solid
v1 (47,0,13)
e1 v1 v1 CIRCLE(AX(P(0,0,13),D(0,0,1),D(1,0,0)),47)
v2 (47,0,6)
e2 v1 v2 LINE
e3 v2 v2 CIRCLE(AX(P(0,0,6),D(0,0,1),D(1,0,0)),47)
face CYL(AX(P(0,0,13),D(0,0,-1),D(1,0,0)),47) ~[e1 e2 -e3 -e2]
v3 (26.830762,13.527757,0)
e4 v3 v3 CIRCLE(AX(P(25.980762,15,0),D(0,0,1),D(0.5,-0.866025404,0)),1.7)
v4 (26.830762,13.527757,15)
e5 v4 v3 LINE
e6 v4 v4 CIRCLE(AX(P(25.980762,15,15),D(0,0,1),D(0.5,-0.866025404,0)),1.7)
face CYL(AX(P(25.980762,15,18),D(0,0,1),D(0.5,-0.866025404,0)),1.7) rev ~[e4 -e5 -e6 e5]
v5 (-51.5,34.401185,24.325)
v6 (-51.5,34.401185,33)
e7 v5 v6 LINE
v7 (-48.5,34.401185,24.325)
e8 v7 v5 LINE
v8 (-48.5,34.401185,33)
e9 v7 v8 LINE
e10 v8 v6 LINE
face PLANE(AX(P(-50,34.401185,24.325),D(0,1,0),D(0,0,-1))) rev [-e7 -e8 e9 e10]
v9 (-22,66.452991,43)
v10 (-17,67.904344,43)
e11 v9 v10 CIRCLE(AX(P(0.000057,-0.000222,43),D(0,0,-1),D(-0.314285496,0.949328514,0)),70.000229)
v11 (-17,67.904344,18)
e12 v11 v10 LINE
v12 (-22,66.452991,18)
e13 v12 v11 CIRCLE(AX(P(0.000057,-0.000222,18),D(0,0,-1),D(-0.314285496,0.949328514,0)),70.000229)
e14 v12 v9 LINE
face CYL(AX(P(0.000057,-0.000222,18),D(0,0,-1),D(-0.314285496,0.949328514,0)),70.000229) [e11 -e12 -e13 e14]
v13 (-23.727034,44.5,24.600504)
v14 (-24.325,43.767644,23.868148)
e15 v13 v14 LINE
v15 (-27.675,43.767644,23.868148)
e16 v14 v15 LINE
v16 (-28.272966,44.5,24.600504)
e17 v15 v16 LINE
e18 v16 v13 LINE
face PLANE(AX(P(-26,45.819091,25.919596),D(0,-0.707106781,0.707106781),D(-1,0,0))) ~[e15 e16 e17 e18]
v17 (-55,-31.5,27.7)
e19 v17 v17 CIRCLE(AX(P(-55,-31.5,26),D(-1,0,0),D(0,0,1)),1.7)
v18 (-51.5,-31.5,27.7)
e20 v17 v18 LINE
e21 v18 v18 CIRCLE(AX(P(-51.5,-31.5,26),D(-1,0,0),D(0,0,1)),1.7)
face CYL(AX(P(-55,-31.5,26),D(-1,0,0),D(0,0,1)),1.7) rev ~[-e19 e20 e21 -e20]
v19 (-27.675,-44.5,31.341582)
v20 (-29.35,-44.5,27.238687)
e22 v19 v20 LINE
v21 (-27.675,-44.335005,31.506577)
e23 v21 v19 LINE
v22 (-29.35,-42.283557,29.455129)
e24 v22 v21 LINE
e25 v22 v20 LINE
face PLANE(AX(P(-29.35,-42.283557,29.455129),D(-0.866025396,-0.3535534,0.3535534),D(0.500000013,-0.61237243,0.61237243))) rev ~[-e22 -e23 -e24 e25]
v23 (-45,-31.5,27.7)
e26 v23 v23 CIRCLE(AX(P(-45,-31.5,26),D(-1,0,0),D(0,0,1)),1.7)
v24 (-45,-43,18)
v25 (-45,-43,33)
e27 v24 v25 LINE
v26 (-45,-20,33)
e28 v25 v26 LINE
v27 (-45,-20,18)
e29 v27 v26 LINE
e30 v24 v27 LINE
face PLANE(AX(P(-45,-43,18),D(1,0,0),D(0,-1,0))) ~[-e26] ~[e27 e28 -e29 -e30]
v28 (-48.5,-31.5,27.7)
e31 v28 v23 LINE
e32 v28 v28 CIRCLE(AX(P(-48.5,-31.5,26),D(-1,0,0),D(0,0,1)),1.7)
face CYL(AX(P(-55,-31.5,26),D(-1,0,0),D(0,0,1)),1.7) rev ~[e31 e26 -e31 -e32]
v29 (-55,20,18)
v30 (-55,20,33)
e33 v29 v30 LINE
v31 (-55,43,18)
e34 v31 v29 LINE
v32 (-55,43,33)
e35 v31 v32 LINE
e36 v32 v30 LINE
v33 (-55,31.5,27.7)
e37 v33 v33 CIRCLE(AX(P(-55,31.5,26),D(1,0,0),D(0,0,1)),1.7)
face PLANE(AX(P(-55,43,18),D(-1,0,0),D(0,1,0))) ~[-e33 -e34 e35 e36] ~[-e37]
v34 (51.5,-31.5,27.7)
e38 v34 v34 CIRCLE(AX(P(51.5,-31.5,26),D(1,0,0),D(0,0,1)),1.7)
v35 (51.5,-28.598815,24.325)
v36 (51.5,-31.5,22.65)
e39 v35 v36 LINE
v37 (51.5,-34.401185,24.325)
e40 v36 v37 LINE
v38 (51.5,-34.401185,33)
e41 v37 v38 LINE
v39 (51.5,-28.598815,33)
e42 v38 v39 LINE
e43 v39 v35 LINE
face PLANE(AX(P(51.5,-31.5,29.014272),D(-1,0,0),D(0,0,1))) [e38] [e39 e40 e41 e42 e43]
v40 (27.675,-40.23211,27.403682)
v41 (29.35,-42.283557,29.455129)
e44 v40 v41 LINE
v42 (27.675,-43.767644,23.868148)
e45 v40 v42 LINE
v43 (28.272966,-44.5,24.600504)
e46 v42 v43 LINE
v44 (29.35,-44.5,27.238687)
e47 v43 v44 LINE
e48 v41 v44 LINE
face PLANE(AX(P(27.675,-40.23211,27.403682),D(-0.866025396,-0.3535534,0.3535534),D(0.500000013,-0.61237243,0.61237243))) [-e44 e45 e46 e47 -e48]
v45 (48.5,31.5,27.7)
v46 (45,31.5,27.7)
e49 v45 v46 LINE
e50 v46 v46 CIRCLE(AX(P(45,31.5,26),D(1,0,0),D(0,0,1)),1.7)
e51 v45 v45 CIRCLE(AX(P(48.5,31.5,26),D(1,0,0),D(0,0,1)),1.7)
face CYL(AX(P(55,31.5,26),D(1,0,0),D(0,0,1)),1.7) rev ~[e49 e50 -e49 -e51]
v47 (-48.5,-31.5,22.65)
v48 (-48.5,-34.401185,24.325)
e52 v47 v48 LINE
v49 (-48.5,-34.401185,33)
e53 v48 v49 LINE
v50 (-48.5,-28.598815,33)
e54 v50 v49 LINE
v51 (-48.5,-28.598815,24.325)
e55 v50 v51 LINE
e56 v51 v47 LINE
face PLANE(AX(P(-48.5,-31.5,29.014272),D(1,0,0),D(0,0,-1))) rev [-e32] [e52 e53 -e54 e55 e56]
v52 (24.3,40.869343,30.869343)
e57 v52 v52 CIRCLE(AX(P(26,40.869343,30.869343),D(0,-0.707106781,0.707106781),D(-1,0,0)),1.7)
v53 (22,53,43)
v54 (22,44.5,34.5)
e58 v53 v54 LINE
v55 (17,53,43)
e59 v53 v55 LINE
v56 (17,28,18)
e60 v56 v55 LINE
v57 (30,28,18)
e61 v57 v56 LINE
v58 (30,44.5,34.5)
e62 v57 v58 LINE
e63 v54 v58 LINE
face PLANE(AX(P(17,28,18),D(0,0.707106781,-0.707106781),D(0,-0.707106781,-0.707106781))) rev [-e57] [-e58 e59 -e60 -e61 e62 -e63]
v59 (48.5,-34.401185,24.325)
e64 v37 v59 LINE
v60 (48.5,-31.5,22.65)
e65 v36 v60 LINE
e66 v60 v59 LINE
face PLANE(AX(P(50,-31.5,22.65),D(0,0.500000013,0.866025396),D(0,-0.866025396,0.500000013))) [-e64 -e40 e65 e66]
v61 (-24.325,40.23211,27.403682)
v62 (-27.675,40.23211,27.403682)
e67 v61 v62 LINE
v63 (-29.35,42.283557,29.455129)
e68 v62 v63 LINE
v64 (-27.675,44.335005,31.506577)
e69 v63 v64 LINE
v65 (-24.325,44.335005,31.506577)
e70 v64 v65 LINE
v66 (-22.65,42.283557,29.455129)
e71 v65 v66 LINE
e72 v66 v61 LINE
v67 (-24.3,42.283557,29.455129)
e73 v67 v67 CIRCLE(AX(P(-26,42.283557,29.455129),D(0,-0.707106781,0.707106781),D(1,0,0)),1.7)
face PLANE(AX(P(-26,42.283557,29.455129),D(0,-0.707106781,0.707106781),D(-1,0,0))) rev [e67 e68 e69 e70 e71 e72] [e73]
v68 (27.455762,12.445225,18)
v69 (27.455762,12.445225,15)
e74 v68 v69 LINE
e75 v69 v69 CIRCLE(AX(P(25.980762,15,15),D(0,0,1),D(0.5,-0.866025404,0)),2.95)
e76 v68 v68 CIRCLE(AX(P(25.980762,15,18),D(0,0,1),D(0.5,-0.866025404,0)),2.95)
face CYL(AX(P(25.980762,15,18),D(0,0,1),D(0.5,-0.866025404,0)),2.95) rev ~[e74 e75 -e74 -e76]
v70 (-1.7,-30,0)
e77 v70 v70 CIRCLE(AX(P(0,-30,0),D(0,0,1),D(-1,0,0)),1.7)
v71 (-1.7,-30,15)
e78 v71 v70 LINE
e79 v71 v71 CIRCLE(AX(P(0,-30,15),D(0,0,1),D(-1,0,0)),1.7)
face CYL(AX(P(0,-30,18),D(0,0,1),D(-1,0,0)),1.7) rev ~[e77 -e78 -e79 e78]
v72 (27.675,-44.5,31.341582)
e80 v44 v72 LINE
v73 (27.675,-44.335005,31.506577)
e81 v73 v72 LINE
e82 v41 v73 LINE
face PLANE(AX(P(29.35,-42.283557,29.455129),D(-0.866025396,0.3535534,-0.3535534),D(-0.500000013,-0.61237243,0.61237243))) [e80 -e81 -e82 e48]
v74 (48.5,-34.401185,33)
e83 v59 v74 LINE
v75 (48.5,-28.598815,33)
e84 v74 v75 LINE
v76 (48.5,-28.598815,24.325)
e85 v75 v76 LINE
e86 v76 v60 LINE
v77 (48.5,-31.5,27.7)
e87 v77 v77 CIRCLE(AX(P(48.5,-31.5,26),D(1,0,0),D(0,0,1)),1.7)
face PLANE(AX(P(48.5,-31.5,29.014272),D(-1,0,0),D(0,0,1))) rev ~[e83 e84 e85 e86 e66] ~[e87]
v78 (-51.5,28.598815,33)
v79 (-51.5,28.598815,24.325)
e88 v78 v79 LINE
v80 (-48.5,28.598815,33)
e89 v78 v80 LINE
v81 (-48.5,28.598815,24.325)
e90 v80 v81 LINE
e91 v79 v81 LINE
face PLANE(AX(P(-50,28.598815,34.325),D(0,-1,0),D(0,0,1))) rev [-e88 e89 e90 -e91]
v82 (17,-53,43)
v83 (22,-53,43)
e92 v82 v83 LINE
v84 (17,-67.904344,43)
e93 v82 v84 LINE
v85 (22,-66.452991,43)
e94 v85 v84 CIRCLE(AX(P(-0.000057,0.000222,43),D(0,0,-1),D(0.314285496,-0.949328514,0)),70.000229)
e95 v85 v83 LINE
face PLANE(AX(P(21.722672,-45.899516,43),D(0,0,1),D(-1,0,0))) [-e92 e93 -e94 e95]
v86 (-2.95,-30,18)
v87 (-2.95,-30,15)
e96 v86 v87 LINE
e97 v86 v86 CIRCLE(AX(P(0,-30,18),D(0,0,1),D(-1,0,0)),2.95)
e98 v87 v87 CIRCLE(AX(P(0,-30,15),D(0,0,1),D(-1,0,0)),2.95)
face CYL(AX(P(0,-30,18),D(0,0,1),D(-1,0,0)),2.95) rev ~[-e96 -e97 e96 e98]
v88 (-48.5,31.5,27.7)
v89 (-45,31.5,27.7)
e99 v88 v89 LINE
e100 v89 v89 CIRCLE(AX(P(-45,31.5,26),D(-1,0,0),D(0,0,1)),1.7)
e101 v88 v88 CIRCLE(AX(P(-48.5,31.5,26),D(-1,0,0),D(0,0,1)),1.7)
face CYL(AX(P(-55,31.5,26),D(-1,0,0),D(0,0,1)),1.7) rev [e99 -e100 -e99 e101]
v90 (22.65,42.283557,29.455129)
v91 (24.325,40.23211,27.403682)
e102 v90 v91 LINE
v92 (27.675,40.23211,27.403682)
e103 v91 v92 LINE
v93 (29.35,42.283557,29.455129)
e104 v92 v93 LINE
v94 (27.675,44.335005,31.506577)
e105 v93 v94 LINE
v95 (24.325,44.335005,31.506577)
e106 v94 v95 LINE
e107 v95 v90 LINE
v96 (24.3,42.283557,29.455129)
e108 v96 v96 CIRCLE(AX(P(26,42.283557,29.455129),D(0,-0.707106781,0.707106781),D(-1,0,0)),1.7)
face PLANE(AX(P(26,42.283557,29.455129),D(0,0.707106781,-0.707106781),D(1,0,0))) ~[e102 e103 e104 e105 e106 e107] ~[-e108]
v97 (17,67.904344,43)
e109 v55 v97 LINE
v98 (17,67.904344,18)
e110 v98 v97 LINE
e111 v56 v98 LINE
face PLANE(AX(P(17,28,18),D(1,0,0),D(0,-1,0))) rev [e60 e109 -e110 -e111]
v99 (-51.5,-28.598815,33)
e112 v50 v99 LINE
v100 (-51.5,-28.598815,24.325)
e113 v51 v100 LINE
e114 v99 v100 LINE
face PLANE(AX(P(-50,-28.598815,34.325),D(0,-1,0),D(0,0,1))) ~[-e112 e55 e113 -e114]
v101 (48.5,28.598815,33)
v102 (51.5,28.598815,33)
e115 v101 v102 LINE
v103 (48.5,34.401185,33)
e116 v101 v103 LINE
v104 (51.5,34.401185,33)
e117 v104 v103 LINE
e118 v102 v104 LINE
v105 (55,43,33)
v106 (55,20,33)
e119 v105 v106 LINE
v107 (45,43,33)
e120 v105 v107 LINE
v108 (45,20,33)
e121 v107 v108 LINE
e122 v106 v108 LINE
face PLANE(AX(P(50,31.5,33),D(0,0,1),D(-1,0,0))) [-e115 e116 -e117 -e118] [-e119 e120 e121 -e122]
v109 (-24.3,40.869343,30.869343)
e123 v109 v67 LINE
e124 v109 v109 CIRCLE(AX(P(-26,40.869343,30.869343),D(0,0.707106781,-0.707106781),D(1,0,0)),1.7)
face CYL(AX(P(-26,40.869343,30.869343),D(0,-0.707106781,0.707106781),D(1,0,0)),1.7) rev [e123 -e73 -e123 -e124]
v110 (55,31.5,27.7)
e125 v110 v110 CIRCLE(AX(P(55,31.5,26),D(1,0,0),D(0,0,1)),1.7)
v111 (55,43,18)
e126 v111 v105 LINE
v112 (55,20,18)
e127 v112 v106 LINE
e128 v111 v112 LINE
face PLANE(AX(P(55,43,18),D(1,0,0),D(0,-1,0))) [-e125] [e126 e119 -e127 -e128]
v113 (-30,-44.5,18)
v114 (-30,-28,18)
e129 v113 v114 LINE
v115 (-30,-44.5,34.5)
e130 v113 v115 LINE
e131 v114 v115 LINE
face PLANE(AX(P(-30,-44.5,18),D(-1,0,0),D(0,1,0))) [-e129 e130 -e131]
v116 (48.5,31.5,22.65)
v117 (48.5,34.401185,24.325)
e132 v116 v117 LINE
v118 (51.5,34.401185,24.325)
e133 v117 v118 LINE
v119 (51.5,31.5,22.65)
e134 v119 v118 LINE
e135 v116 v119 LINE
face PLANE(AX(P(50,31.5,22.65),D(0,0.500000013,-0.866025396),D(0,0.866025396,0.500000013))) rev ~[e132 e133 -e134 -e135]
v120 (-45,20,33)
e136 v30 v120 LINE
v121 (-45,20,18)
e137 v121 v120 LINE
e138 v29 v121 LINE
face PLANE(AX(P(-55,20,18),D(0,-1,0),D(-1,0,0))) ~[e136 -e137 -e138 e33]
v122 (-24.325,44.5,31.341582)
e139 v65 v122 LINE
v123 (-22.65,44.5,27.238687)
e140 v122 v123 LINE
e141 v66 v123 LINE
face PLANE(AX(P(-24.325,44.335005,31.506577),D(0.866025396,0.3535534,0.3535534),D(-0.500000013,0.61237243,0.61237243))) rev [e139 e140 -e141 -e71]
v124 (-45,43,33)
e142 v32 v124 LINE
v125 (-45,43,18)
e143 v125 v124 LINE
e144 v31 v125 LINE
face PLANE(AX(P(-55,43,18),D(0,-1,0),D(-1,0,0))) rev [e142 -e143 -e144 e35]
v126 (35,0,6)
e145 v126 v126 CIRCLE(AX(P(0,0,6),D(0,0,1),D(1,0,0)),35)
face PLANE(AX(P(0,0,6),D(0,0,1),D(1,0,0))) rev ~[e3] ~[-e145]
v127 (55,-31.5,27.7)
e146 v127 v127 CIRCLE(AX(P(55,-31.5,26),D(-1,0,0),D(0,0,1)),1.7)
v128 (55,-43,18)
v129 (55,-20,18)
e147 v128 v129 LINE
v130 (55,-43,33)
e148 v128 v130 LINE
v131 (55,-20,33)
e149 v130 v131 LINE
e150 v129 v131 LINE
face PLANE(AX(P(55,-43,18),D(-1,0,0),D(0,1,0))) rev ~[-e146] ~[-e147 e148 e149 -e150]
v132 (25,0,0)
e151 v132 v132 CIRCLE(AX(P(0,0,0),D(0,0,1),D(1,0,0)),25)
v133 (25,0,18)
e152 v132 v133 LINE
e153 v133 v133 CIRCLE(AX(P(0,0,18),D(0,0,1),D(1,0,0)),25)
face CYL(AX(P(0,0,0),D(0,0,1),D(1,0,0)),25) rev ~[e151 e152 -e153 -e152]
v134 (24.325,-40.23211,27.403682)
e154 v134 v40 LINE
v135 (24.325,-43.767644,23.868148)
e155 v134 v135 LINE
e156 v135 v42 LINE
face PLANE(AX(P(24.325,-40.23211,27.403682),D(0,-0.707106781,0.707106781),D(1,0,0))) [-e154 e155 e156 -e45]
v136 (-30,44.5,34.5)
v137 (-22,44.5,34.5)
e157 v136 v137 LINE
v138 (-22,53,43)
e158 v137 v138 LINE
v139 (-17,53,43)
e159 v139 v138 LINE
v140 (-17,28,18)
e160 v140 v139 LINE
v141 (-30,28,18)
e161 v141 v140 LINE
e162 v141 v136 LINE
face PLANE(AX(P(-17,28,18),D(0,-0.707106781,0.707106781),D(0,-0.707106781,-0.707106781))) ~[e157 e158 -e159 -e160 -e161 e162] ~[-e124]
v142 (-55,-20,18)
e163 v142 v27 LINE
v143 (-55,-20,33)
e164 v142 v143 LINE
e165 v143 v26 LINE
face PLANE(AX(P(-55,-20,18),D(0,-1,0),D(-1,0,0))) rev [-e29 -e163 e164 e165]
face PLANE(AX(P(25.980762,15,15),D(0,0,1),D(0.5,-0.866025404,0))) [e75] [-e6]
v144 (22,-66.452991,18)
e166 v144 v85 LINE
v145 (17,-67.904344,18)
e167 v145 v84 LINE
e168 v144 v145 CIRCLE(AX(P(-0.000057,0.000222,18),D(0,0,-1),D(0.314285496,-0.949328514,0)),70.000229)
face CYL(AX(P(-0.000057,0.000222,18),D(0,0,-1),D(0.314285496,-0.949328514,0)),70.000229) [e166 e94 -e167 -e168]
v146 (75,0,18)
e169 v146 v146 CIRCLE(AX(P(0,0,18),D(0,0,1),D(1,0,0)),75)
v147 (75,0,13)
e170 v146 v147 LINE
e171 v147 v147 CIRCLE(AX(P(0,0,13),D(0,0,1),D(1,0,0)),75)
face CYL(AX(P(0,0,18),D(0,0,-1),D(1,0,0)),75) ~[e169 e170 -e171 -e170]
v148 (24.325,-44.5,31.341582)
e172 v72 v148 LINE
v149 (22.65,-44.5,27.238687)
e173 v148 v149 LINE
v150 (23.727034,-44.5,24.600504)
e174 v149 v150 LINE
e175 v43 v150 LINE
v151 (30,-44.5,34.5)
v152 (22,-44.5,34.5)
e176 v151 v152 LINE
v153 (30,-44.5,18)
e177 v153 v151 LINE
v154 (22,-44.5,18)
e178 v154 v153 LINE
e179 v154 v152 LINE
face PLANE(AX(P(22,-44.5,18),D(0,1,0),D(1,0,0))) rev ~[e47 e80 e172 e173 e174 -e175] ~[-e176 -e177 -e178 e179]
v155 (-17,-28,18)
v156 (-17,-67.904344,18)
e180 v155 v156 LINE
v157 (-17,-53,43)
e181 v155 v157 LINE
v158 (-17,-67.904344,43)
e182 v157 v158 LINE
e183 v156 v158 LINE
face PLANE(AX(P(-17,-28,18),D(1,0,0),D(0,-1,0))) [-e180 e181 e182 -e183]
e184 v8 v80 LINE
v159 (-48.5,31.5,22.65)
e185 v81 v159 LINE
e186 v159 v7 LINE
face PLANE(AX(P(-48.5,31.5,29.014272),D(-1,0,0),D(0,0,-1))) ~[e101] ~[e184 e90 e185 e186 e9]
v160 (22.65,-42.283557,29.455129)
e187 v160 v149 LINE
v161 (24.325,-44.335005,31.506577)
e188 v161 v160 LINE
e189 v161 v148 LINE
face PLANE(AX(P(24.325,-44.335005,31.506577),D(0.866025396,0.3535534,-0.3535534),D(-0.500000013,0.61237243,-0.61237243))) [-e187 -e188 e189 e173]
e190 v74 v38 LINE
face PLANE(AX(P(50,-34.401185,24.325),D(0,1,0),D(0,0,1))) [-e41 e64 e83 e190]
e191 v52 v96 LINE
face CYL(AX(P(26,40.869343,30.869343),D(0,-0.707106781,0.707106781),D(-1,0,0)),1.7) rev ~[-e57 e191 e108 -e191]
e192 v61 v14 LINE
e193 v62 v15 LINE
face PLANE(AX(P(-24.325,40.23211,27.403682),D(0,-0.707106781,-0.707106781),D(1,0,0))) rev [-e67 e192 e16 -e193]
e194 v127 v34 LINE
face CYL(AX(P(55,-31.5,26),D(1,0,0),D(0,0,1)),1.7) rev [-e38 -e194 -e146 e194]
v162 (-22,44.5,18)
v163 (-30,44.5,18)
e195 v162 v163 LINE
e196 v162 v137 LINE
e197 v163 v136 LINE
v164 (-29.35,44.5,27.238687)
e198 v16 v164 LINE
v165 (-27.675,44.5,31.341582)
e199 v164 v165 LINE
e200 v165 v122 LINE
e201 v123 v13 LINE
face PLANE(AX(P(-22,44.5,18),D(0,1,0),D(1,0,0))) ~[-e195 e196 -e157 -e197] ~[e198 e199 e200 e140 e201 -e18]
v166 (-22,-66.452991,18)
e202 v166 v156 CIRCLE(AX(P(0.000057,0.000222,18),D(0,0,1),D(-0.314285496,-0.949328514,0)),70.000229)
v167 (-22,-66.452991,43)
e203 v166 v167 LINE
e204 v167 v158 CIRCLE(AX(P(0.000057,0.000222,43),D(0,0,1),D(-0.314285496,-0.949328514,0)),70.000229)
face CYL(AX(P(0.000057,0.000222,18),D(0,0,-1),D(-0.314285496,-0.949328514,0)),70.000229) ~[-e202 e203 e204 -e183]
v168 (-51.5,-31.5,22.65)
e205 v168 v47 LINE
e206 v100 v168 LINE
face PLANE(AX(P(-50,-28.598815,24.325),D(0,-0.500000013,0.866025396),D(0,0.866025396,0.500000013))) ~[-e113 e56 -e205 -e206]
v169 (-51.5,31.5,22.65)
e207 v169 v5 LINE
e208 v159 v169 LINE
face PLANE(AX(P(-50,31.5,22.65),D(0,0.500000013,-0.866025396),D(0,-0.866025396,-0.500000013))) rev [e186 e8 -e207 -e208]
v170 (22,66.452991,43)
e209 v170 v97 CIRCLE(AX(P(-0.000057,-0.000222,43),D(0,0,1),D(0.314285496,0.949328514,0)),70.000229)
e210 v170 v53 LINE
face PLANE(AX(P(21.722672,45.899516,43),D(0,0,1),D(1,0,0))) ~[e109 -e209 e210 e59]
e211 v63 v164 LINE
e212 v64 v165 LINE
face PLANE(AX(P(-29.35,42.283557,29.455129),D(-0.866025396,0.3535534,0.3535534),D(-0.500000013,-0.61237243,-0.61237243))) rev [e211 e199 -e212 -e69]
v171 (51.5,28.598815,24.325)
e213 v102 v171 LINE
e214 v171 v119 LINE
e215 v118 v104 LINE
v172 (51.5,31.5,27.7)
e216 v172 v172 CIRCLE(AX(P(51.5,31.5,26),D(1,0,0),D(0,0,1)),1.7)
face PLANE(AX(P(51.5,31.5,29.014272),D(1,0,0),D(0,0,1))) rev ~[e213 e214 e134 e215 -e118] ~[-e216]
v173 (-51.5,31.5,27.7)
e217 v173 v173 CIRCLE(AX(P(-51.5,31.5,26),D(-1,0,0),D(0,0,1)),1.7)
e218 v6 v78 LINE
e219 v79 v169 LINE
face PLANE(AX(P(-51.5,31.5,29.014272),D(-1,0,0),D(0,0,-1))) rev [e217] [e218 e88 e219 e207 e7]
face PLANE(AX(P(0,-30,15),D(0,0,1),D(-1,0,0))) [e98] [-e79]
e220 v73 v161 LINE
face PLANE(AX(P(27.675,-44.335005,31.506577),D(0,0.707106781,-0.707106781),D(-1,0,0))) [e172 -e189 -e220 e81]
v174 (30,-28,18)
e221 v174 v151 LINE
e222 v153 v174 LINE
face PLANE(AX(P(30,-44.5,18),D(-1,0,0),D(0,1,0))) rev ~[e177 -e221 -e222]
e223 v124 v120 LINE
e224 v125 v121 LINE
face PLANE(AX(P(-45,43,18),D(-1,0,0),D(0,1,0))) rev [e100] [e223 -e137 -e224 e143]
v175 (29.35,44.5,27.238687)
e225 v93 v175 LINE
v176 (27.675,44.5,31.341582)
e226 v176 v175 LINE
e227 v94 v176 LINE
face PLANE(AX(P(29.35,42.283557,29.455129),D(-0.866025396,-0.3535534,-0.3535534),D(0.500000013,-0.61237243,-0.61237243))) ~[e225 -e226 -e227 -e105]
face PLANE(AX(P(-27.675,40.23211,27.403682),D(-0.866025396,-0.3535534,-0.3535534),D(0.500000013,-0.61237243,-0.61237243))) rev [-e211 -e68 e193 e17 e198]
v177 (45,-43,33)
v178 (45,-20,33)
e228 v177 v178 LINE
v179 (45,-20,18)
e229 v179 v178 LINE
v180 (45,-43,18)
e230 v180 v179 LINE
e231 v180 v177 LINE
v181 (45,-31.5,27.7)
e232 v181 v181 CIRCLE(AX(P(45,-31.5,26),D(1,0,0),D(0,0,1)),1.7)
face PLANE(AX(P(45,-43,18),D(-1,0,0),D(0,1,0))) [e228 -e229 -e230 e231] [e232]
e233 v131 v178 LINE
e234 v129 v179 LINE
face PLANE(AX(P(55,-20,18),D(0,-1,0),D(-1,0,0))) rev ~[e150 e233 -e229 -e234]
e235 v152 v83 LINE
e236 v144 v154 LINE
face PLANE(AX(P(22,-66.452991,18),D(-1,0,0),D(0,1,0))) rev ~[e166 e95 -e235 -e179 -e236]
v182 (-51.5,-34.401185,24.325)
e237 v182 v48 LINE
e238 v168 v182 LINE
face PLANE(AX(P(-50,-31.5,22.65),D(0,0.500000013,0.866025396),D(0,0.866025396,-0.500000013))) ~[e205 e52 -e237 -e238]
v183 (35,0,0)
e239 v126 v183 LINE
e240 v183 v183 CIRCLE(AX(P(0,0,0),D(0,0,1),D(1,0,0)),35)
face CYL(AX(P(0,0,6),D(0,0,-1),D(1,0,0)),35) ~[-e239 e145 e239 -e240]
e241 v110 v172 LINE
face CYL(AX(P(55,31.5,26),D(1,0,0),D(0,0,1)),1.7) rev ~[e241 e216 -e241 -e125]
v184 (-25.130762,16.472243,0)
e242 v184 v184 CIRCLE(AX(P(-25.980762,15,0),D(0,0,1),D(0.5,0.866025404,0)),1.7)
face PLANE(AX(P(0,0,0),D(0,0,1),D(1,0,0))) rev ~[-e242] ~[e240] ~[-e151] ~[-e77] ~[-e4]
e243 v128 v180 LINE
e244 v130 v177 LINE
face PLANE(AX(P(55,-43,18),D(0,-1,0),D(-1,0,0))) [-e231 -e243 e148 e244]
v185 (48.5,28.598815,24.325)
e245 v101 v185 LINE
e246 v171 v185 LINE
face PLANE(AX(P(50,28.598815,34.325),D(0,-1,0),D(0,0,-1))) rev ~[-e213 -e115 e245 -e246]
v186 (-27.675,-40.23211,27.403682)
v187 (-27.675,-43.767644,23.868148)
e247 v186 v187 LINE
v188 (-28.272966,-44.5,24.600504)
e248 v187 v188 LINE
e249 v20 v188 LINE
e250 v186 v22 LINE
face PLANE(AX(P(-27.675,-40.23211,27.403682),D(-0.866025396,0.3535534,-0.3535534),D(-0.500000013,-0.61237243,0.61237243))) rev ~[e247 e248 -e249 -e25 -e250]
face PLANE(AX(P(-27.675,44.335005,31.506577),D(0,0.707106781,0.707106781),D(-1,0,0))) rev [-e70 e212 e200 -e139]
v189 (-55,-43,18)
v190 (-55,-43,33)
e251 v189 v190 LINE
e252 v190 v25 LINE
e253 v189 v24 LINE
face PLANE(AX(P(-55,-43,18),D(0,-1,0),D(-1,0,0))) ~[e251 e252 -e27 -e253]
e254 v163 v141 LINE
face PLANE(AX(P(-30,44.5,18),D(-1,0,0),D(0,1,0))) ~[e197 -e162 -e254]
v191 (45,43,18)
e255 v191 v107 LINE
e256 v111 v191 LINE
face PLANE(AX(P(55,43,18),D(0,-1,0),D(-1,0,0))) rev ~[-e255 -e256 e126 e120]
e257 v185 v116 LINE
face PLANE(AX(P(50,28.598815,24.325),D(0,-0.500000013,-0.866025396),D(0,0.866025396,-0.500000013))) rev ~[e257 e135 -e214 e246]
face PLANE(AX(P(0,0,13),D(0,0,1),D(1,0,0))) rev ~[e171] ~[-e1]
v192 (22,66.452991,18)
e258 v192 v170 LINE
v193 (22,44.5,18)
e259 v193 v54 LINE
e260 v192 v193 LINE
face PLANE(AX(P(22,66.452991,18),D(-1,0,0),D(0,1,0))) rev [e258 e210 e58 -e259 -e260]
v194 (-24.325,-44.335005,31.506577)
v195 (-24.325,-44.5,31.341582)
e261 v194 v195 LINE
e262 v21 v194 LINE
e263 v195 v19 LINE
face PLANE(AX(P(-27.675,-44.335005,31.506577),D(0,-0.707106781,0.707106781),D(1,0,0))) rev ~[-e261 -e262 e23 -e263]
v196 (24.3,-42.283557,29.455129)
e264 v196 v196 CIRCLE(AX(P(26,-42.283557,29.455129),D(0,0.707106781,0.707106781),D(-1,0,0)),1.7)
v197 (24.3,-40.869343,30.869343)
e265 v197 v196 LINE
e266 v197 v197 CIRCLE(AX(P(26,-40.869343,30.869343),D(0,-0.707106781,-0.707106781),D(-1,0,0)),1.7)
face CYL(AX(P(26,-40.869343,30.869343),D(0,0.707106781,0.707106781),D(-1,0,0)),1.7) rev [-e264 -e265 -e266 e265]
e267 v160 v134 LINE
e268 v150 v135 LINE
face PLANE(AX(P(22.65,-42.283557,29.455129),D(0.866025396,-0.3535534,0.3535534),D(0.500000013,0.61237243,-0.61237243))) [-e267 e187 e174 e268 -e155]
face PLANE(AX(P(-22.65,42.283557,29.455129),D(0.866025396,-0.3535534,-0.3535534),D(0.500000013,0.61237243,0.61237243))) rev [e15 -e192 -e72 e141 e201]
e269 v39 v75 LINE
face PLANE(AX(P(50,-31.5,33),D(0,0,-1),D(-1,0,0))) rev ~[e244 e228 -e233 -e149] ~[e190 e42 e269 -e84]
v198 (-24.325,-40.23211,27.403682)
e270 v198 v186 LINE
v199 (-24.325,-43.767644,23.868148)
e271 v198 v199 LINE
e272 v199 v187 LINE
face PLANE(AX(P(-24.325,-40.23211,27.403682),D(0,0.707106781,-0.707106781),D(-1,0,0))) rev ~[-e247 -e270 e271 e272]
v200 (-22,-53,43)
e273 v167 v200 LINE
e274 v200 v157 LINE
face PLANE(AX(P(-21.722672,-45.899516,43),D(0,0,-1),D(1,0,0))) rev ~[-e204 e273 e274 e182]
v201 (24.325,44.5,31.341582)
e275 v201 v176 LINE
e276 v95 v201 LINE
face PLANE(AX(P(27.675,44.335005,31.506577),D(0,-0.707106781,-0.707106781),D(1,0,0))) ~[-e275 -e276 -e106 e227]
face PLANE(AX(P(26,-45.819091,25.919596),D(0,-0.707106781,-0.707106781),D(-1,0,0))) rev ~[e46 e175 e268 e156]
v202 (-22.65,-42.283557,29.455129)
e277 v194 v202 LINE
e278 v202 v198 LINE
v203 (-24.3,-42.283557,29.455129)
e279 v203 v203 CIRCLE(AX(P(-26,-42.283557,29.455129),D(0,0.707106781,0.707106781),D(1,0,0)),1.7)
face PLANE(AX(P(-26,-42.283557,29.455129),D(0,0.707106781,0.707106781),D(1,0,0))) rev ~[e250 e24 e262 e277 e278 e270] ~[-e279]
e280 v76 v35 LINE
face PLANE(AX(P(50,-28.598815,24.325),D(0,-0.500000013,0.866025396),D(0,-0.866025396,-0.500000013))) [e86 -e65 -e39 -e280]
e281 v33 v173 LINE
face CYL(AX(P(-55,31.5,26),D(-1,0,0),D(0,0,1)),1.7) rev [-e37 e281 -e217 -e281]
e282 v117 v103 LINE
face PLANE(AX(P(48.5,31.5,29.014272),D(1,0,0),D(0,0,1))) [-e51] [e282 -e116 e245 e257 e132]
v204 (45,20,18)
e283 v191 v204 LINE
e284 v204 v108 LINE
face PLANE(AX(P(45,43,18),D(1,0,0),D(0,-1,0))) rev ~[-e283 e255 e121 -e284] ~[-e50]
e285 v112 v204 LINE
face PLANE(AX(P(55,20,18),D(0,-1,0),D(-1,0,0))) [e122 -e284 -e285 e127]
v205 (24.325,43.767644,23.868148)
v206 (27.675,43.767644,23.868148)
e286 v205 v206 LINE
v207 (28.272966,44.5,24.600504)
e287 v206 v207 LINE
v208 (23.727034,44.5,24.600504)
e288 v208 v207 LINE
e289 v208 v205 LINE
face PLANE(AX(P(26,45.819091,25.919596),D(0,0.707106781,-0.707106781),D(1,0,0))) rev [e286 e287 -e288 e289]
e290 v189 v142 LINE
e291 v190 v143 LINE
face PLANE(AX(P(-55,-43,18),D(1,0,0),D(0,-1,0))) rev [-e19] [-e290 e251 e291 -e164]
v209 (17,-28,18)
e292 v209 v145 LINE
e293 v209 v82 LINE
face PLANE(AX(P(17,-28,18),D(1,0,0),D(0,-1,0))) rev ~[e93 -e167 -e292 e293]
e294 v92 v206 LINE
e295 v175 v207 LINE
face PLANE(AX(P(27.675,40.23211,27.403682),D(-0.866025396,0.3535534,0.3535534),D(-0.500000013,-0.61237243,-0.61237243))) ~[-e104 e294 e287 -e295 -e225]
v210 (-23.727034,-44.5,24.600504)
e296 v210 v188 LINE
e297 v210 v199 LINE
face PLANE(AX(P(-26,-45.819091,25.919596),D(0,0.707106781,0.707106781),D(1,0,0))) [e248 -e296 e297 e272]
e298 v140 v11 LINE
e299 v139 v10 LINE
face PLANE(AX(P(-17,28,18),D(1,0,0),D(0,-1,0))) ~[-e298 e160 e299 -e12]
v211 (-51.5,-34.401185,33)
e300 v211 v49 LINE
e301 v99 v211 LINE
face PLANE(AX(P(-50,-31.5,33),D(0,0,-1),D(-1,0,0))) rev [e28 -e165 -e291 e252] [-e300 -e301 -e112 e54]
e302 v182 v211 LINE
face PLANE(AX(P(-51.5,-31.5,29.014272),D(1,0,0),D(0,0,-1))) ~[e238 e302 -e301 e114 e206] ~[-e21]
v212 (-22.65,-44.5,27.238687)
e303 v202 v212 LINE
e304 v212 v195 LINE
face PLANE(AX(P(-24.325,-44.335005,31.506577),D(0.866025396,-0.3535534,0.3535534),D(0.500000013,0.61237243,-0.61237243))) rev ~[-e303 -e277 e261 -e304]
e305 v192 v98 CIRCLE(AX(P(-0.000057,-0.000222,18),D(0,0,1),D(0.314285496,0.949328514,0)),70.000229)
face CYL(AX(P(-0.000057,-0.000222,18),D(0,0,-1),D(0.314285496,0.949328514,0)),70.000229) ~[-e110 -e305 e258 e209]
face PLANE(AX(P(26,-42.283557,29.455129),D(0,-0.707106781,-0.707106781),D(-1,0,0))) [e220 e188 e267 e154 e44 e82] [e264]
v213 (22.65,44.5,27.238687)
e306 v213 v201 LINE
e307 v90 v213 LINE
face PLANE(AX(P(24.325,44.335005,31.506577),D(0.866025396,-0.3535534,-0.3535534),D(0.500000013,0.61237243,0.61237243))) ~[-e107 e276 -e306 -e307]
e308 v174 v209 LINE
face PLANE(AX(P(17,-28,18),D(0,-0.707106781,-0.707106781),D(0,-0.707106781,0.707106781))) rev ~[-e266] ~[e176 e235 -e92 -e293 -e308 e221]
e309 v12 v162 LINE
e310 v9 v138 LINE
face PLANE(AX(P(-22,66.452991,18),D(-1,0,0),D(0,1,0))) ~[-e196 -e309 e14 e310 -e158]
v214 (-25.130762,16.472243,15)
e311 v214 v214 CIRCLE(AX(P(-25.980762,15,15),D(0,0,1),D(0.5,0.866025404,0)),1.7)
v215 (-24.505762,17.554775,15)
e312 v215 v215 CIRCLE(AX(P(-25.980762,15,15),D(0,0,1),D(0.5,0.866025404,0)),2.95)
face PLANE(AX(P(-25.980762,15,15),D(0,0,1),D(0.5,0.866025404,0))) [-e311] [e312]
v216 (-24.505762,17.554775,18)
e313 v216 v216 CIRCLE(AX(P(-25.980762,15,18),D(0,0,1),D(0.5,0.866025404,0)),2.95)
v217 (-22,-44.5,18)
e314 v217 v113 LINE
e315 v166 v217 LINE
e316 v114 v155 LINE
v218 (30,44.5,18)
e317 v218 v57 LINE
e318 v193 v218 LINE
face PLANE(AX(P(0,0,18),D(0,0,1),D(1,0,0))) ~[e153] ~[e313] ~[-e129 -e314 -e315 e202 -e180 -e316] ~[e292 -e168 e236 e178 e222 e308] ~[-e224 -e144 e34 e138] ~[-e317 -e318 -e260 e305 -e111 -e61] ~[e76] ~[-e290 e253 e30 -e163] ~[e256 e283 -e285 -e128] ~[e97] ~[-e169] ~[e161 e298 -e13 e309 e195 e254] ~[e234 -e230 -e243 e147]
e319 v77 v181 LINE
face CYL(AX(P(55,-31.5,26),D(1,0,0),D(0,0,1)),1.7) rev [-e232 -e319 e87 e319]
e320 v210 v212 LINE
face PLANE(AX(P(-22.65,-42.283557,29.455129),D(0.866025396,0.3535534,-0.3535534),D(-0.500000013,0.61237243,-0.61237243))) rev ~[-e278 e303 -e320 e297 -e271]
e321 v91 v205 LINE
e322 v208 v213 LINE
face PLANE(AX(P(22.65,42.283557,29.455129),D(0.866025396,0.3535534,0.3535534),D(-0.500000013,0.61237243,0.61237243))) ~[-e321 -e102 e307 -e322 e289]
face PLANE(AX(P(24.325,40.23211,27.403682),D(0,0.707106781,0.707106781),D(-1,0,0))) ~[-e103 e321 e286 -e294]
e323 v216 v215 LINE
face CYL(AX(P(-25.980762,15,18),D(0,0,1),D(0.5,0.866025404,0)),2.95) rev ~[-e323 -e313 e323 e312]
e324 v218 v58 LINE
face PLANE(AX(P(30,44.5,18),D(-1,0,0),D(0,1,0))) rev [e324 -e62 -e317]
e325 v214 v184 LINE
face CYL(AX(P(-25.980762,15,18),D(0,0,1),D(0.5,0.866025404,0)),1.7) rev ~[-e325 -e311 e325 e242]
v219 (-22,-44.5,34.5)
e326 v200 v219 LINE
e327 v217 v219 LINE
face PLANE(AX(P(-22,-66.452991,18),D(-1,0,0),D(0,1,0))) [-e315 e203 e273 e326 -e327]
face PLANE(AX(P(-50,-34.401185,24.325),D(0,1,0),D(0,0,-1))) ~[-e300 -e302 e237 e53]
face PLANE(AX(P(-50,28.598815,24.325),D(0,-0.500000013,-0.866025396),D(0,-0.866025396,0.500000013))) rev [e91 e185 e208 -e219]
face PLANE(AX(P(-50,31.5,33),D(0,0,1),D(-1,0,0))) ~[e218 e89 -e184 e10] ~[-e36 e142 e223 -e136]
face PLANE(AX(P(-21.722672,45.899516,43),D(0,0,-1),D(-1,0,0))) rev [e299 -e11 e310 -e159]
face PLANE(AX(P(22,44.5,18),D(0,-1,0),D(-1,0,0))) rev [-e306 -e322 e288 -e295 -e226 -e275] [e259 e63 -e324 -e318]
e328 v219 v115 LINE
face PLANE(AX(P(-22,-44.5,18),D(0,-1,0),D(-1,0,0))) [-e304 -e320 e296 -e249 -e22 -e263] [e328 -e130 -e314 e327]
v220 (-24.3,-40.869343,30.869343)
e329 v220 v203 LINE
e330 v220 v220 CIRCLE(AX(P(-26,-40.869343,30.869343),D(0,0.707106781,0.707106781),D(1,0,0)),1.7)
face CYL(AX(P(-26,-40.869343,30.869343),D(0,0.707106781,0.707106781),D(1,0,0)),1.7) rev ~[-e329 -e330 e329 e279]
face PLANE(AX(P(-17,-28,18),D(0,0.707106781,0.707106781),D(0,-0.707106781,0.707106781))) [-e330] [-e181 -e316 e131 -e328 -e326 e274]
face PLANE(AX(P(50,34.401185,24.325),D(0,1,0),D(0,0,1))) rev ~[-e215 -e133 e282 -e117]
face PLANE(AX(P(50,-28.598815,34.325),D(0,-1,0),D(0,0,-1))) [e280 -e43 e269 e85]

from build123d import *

# Parameters (mm, degrees)
SKETCH001_W                   = 10
SKETCH001_H                   = 23
PAD_DEPTH                     = 15
SKETCH002_R                   = 1.7
POCKET_DEPTH                  = 559.367976
POCKET001_DEPTH               = 1.5
SKETCH001_MIRRORED_2_W        = 10
SKETCH001_MIRRORED_2_H        = 23
PAD_MIRRORED_2_DEPTH          = 15
SKETCH002_MIRRORED_2_R        = 1.7
POCKET_MIRRORED_2_DEPTH       = 559.367976
POCKET001_MIRRORED_2_DEPTH    = 1.5
SKETCH004_R                   = 1.7
POCKET002_DEPTH               = 447.367976
SKETCH005_R                   = 2.95
POCKET003_DEPTH               = 3
POLARPATTERN_COUNT            = 3
PAD001_DEPTH                  = 25
POCKET004_DEPTH               = 13
SKETCH008_R                   = 1.7
POCKET005_DEPTH               = 10
POCKET006_DEPTH               = 5
PAD001_MIRRORED002_2_DEPTH    = 25
POCKET004_MIRRORED002_2_DEPTH = 13
SKETCH008_MIRRORED002_2_R     = 1.7
POCKET005_MIRRORED002_2_DEPTH = 10
POCKET006_MIRRORED002_2_DEPTH = 5


with BuildPart() as part:
    # Sketch → Revolution (revolve)
    with BuildSketch(Plane.XZ):
        Polygon((25, 0), (25, 18), (75, 18), (75, 13), (47, 13), (47, 6), (35, 6), (35, 0), align=None)
    revolve(axis=Axis((0, 0, 0), (0, 0, 1)))

    # Sketch001 (on Face2 of Revolution) → Pad (new body)
    with BuildSketch(Plane(origin=(0, 0, 18), x_dir=(-1, 0, 0), z_dir=(0, 0, 1))):
        with Locations((-50, -31.5)):
            Rectangle(SKETCH001_W, SKETCH001_H)
    pad = extrude(amount=PAD_DEPTH)

    # Sketch002 (on Face8 of Pad) → Pocket (cut, through all)
    with BuildSketch(Plane(origin=(55, 0, 0), x_dir=(0, 0, 1), z_dir=(1, 0, 0))):
        with Locations((26, -31.5)):
            Circle(SKETCH002_R)
    pocket = extrude(amount=-POCKET_DEPTH, mode=Mode.SUBTRACT)

    # Sketch003 (on DatumPlane) → Pocket001 (cut, symmetric)
    with BuildSketch(Plane(origin=(50, 0, 0), x_dir=(0, 0, 1), z_dir=(1, 0, 0))):
        Polygon((24.325, -28.598815), (22.65, -31.5), (24.325, -34.401185), (34.325, -34.401185), (34.325, -28.598815), align=None)
    pocket001 = extrude(amount=POCKET001_DEPTH, both=True, mode=Mode.SUBTRACT)

    # Sketch001 Mirrored 2 → Pad Mirrored 2 (add)
    with BuildSketch(Plane(origin=(0, 0, 18), x_dir=(-1, 0, 0), z_dir=(0, 0, -1))):
        with Locations((-50, -31.5)):
            Rectangle(SKETCH001_MIRRORED_2_W, SKETCH001_MIRRORED_2_H)
    pad_mirrored_2 = extrude(amount=-PAD_MIRRORED_2_DEPTH)

    # Sketch002 Mirrored 2 → Pocket Mirrored 2 (cut, through all)
    with BuildSketch(Plane.ZY.offset(-55)):
        with Locations((26, -31.5)):
            Circle(SKETCH002_MIRRORED_2_R)
    pocket_mirrored_2 = extrude(amount=POCKET_MIRRORED_2_DEPTH, mode=Mode.SUBTRACT)

    # Sketch003 Mirrored 2 → Pocket001 Mirrored 2 (cut, symmetric)
    with BuildSketch(Plane.ZY.offset(-50)):
        Polygon((24.325, -28.598815), (22.65, -31.5), (24.325, -34.401185), (34.325, -34.401185), (34.325, -28.598815), align=None)
    pocket001_mirrored_2 = extrude(amount=-POCKET001_MIRRORED_2_DEPTH, both=True, mode=Mode.SUBTRACT)

    # Mirrored001: Pad, Pocket, Pocket001, Pad Mirrored 2, Pocket Mirrored 2, Pocket001 Mirrored 2 across YZ
    add(pad.mirror(Plane.YZ))
    add(pocket.mirror(Plane.YZ), mode=Mode.SUBTRACT)
    add(pocket001.mirror(Plane.YZ), mode=Mode.SUBTRACT)
    add(pad_mirrored_2.mirror(Plane.YZ))
    add(pocket_mirrored_2.mirror(Plane.YZ), mode=Mode.SUBTRACT)
    add(pocket001_mirrored_2.mirror(Plane.YZ), mode=Mode.SUBTRACT)

    # Sketch004 (on Face3 of MultiTransform) → Pocket002 (cut, through all)
    with BuildSketch(Plane(origin=(0, 0, 18), x_dir=(-1, 0, 0), z_dir=(0, 0, 1))):
        with Locations((0, 30)):
            Circle(SKETCH004_R)
    pocket002 = extrude(amount=-POCKET002_DEPTH, mode=Mode.SUBTRACT)

    # Sketch005 (on Face3 of Pocket002) → Pocket003 (cut)
    with BuildSketch(Plane(origin=(0, 0, 18), x_dir=(-1, 0, 0), z_dir=(0, 0, 1))):
        with Locations((0, 30)):
            Circle(SKETCH005_R)
    pocket003 = extrude(amount=-POCKET003_DEPTH, mode=Mode.SUBTRACT)

    # PolarPattern: Pocket003, Pocket002 ×3 about axis
    polarpattern_axis = Axis((0, 0, 18), (0, 0, 1))
    for i in range(1, POLARPATTERN_COUNT):
        add(pocket003.rotate(polarpattern_axis, i * 360 / POLARPATTERN_COUNT), mode=Mode.SUBTRACT)
        add(pocket002.rotate(polarpattern_axis, i * 360 / POLARPATTERN_COUNT), mode=Mode.SUBTRACT)

    # Sketch006 (on Face3 of PolarPattern) → Pad001 (join)
    with BuildSketch(Plane(origin=(0, 0, 18), x_dir=(-1, 0, 0), z_dir=(0, 0, 1))):
        with BuildLine():
            Line((22, 66.452991), (22, 44.5))
            Line((22, 44.5), (30, 44.5))
            Line((30, 44.5), (30, 28))
            Line((30, 28), (17, 28))
            Line((17, 28), (17, 67.904344))
            ThreePointArc((22, 66.452991), (19.513498, 67.225169), (17, 67.904344))
        make_face()
    pad001 = extrude(amount=PAD001_DEPTH)

    # Sketch007 (on Face29 of Pad001) → Pocket004 (cut)
    with BuildSketch(Plane(origin=(-17, 0, 0), x_dir=(0, 0, 1), z_dir=(1, 0, 0))):
        Polygon((18, 28), (63, 73), (63, 28), align=None)
    pocket004 = extrude(amount=-POCKET004_DEPTH, mode=Mode.SUBTRACT)

    # Sketch008 (on Face30 of Pocket004) → Pocket005 (cut)
    with BuildSketch(Plane(origin=(0, -5, -5), x_dir=(1, 0, 0), z_dir=(0, 0.707107, 0.707107))):
        with Locations((-26, -50.726912)):
            Circle(SKETCH008_R)
    pocket005 = extrude(amount=-POCKET005_DEPTH, mode=Mode.SUBTRACT)

    # Sketch009 (on DatumPlane) → Pocket006 (cut)
    with BuildSketch(Plane(origin=(0, -6.414214, -6.414214), x_dir=(1, 0, 0), z_dir=(0, 0.707107, 0.707107))):
        Polygon((-24.325, -53.628097), (-22.65, -50.726912), (-24.325, -47.825727), (-27.675, -47.825727), (-29.35, -50.726912), (-27.675, -53.628097), align=None)
    pocket006 = extrude(amount=-POCKET006_DEPTH, mode=Mode.SUBTRACT)

    # Sketch006 Mirrored002 2 → Pad001 Mirrored002 2 (add)
    with BuildSketch(Plane(origin=(0, 0, 18), x_dir=(1, 0, 0), z_dir=(0, 0, -1))):
        with BuildLine():
            Line((22, 66.452991), (22, 44.5))
            Line((22, 44.5), (30, 44.5))
            Line((30, 44.5), (30, 28))
            Line((30, 28), (17, 28))
            Line((17, 28), (17, 67.904344))
            ThreePointArc((22, 66.452991), (19.513498, 67.225169), (17, 67.904344))
        make_face()
    pad001_mirrored002_2 = extrude(amount=-PAD001_MIRRORED002_2_DEPTH)

    # Sketch007 Mirrored002 2 → Pocket004 Mirrored002 2 (cut)
    with BuildSketch(Plane(origin=(17, 0, 0), x_dir=(0, 0, 1), z_dir=(1, 0, 0))):
        Polygon((18, 28), (63, 73), (63, 28), align=None)
    pocket004_mirrored002_2 = extrude(amount=POCKET004_MIRRORED002_2_DEPTH, mode=Mode.SUBTRACT)

    # Sketch008 Mirrored002 2 → Pocket005 Mirrored002 2 (cut)
    with BuildSketch(Plane(origin=(0, -5, -5), x_dir=(-1, 0, 0), z_dir=(0, -0.707107, -0.707107))):
        with Locations((-26, -50.726912)):
            Circle(SKETCH008_MIRRORED002_2_R)
    pocket005_mirrored002_2 = extrude(amount=POCKET005_MIRRORED002_2_DEPTH, mode=Mode.SUBTRACT)

    # Sketch009 Mirrored002 2 → Pocket006 Mirrored002 2 (cut)
    with BuildSketch(Plane(origin=(0, -6.414214, -6.414214), x_dir=(-1, 0, 0), z_dir=(0, -0.707107, -0.707107))):
        Polygon((-24.325, -53.628097), (-22.65, -50.726912), (-24.325, -47.825727), (-27.675, -47.825727), (-29.35, -50.726912), (-27.675, -53.628097), align=None)
    pocket006_mirrored002_2 = extrude(amount=POCKET006_MIRRORED002_2_DEPTH, mode=Mode.SUBTRACT)

    # Mirrored003: Pad001, Pocket004, Pocket005, Pocket006, Pad001 Mirrored002 2, Pocket004 Mirrored002 2, Pocket005 Mirrored002 2, Pocket006 Mirrored002 2 across Sketch006 H_Axis
    add(pad001.mirror(Plane(origin=(0, 0, 18), x_dir=(0, 0, 1), z_dir=(0, -1, 0))))
    add(pocket004.mirror(Plane(origin=(0, 0, 18), x_dir=(0, 0, 1), z_dir=(0, -1, 0))), mode=Mode.SUBTRACT)
    add(pocket005.mirror(Plane(origin=(0, 0, 18), x_dir=(0, 0, 1), z_dir=(0, -1, 0))), mode=Mode.SUBTRACT)
    add(pocket006.mirror(Plane(origin=(0, 0, 18), x_dir=(0, 0, 1), z_dir=(0, -1, 0))), mode=Mode.SUBTRACT)
    add(pad001_mirrored002_2.mirror(Plane(origin=(0, 0, 18), x_dir=(0, 0, 1), z_dir=(0, -1, 0))))
    add(pocket004_mirrored002_2.mirror(Plane(origin=(0, 0, 18), x_dir=(0, 0, 1), z_dir=(0, -1, 0))), mode=Mode.SUBTRACT)
    add(pocket005_mirrored002_2.mirror(Plane(origin=(0, 0, 18), x_dir=(0, 0, 1), z_dir=(0, -1, 0))), mode=Mode.SUBTRACT)
    add(pocket006_mirrored002_2.mirror(Plane(origin=(0, 0, 18), x_dir=(0, 0, 1), z_dir=(0, -1, 0))), mode=Mode.SUBTRACT)


solid = part.part
